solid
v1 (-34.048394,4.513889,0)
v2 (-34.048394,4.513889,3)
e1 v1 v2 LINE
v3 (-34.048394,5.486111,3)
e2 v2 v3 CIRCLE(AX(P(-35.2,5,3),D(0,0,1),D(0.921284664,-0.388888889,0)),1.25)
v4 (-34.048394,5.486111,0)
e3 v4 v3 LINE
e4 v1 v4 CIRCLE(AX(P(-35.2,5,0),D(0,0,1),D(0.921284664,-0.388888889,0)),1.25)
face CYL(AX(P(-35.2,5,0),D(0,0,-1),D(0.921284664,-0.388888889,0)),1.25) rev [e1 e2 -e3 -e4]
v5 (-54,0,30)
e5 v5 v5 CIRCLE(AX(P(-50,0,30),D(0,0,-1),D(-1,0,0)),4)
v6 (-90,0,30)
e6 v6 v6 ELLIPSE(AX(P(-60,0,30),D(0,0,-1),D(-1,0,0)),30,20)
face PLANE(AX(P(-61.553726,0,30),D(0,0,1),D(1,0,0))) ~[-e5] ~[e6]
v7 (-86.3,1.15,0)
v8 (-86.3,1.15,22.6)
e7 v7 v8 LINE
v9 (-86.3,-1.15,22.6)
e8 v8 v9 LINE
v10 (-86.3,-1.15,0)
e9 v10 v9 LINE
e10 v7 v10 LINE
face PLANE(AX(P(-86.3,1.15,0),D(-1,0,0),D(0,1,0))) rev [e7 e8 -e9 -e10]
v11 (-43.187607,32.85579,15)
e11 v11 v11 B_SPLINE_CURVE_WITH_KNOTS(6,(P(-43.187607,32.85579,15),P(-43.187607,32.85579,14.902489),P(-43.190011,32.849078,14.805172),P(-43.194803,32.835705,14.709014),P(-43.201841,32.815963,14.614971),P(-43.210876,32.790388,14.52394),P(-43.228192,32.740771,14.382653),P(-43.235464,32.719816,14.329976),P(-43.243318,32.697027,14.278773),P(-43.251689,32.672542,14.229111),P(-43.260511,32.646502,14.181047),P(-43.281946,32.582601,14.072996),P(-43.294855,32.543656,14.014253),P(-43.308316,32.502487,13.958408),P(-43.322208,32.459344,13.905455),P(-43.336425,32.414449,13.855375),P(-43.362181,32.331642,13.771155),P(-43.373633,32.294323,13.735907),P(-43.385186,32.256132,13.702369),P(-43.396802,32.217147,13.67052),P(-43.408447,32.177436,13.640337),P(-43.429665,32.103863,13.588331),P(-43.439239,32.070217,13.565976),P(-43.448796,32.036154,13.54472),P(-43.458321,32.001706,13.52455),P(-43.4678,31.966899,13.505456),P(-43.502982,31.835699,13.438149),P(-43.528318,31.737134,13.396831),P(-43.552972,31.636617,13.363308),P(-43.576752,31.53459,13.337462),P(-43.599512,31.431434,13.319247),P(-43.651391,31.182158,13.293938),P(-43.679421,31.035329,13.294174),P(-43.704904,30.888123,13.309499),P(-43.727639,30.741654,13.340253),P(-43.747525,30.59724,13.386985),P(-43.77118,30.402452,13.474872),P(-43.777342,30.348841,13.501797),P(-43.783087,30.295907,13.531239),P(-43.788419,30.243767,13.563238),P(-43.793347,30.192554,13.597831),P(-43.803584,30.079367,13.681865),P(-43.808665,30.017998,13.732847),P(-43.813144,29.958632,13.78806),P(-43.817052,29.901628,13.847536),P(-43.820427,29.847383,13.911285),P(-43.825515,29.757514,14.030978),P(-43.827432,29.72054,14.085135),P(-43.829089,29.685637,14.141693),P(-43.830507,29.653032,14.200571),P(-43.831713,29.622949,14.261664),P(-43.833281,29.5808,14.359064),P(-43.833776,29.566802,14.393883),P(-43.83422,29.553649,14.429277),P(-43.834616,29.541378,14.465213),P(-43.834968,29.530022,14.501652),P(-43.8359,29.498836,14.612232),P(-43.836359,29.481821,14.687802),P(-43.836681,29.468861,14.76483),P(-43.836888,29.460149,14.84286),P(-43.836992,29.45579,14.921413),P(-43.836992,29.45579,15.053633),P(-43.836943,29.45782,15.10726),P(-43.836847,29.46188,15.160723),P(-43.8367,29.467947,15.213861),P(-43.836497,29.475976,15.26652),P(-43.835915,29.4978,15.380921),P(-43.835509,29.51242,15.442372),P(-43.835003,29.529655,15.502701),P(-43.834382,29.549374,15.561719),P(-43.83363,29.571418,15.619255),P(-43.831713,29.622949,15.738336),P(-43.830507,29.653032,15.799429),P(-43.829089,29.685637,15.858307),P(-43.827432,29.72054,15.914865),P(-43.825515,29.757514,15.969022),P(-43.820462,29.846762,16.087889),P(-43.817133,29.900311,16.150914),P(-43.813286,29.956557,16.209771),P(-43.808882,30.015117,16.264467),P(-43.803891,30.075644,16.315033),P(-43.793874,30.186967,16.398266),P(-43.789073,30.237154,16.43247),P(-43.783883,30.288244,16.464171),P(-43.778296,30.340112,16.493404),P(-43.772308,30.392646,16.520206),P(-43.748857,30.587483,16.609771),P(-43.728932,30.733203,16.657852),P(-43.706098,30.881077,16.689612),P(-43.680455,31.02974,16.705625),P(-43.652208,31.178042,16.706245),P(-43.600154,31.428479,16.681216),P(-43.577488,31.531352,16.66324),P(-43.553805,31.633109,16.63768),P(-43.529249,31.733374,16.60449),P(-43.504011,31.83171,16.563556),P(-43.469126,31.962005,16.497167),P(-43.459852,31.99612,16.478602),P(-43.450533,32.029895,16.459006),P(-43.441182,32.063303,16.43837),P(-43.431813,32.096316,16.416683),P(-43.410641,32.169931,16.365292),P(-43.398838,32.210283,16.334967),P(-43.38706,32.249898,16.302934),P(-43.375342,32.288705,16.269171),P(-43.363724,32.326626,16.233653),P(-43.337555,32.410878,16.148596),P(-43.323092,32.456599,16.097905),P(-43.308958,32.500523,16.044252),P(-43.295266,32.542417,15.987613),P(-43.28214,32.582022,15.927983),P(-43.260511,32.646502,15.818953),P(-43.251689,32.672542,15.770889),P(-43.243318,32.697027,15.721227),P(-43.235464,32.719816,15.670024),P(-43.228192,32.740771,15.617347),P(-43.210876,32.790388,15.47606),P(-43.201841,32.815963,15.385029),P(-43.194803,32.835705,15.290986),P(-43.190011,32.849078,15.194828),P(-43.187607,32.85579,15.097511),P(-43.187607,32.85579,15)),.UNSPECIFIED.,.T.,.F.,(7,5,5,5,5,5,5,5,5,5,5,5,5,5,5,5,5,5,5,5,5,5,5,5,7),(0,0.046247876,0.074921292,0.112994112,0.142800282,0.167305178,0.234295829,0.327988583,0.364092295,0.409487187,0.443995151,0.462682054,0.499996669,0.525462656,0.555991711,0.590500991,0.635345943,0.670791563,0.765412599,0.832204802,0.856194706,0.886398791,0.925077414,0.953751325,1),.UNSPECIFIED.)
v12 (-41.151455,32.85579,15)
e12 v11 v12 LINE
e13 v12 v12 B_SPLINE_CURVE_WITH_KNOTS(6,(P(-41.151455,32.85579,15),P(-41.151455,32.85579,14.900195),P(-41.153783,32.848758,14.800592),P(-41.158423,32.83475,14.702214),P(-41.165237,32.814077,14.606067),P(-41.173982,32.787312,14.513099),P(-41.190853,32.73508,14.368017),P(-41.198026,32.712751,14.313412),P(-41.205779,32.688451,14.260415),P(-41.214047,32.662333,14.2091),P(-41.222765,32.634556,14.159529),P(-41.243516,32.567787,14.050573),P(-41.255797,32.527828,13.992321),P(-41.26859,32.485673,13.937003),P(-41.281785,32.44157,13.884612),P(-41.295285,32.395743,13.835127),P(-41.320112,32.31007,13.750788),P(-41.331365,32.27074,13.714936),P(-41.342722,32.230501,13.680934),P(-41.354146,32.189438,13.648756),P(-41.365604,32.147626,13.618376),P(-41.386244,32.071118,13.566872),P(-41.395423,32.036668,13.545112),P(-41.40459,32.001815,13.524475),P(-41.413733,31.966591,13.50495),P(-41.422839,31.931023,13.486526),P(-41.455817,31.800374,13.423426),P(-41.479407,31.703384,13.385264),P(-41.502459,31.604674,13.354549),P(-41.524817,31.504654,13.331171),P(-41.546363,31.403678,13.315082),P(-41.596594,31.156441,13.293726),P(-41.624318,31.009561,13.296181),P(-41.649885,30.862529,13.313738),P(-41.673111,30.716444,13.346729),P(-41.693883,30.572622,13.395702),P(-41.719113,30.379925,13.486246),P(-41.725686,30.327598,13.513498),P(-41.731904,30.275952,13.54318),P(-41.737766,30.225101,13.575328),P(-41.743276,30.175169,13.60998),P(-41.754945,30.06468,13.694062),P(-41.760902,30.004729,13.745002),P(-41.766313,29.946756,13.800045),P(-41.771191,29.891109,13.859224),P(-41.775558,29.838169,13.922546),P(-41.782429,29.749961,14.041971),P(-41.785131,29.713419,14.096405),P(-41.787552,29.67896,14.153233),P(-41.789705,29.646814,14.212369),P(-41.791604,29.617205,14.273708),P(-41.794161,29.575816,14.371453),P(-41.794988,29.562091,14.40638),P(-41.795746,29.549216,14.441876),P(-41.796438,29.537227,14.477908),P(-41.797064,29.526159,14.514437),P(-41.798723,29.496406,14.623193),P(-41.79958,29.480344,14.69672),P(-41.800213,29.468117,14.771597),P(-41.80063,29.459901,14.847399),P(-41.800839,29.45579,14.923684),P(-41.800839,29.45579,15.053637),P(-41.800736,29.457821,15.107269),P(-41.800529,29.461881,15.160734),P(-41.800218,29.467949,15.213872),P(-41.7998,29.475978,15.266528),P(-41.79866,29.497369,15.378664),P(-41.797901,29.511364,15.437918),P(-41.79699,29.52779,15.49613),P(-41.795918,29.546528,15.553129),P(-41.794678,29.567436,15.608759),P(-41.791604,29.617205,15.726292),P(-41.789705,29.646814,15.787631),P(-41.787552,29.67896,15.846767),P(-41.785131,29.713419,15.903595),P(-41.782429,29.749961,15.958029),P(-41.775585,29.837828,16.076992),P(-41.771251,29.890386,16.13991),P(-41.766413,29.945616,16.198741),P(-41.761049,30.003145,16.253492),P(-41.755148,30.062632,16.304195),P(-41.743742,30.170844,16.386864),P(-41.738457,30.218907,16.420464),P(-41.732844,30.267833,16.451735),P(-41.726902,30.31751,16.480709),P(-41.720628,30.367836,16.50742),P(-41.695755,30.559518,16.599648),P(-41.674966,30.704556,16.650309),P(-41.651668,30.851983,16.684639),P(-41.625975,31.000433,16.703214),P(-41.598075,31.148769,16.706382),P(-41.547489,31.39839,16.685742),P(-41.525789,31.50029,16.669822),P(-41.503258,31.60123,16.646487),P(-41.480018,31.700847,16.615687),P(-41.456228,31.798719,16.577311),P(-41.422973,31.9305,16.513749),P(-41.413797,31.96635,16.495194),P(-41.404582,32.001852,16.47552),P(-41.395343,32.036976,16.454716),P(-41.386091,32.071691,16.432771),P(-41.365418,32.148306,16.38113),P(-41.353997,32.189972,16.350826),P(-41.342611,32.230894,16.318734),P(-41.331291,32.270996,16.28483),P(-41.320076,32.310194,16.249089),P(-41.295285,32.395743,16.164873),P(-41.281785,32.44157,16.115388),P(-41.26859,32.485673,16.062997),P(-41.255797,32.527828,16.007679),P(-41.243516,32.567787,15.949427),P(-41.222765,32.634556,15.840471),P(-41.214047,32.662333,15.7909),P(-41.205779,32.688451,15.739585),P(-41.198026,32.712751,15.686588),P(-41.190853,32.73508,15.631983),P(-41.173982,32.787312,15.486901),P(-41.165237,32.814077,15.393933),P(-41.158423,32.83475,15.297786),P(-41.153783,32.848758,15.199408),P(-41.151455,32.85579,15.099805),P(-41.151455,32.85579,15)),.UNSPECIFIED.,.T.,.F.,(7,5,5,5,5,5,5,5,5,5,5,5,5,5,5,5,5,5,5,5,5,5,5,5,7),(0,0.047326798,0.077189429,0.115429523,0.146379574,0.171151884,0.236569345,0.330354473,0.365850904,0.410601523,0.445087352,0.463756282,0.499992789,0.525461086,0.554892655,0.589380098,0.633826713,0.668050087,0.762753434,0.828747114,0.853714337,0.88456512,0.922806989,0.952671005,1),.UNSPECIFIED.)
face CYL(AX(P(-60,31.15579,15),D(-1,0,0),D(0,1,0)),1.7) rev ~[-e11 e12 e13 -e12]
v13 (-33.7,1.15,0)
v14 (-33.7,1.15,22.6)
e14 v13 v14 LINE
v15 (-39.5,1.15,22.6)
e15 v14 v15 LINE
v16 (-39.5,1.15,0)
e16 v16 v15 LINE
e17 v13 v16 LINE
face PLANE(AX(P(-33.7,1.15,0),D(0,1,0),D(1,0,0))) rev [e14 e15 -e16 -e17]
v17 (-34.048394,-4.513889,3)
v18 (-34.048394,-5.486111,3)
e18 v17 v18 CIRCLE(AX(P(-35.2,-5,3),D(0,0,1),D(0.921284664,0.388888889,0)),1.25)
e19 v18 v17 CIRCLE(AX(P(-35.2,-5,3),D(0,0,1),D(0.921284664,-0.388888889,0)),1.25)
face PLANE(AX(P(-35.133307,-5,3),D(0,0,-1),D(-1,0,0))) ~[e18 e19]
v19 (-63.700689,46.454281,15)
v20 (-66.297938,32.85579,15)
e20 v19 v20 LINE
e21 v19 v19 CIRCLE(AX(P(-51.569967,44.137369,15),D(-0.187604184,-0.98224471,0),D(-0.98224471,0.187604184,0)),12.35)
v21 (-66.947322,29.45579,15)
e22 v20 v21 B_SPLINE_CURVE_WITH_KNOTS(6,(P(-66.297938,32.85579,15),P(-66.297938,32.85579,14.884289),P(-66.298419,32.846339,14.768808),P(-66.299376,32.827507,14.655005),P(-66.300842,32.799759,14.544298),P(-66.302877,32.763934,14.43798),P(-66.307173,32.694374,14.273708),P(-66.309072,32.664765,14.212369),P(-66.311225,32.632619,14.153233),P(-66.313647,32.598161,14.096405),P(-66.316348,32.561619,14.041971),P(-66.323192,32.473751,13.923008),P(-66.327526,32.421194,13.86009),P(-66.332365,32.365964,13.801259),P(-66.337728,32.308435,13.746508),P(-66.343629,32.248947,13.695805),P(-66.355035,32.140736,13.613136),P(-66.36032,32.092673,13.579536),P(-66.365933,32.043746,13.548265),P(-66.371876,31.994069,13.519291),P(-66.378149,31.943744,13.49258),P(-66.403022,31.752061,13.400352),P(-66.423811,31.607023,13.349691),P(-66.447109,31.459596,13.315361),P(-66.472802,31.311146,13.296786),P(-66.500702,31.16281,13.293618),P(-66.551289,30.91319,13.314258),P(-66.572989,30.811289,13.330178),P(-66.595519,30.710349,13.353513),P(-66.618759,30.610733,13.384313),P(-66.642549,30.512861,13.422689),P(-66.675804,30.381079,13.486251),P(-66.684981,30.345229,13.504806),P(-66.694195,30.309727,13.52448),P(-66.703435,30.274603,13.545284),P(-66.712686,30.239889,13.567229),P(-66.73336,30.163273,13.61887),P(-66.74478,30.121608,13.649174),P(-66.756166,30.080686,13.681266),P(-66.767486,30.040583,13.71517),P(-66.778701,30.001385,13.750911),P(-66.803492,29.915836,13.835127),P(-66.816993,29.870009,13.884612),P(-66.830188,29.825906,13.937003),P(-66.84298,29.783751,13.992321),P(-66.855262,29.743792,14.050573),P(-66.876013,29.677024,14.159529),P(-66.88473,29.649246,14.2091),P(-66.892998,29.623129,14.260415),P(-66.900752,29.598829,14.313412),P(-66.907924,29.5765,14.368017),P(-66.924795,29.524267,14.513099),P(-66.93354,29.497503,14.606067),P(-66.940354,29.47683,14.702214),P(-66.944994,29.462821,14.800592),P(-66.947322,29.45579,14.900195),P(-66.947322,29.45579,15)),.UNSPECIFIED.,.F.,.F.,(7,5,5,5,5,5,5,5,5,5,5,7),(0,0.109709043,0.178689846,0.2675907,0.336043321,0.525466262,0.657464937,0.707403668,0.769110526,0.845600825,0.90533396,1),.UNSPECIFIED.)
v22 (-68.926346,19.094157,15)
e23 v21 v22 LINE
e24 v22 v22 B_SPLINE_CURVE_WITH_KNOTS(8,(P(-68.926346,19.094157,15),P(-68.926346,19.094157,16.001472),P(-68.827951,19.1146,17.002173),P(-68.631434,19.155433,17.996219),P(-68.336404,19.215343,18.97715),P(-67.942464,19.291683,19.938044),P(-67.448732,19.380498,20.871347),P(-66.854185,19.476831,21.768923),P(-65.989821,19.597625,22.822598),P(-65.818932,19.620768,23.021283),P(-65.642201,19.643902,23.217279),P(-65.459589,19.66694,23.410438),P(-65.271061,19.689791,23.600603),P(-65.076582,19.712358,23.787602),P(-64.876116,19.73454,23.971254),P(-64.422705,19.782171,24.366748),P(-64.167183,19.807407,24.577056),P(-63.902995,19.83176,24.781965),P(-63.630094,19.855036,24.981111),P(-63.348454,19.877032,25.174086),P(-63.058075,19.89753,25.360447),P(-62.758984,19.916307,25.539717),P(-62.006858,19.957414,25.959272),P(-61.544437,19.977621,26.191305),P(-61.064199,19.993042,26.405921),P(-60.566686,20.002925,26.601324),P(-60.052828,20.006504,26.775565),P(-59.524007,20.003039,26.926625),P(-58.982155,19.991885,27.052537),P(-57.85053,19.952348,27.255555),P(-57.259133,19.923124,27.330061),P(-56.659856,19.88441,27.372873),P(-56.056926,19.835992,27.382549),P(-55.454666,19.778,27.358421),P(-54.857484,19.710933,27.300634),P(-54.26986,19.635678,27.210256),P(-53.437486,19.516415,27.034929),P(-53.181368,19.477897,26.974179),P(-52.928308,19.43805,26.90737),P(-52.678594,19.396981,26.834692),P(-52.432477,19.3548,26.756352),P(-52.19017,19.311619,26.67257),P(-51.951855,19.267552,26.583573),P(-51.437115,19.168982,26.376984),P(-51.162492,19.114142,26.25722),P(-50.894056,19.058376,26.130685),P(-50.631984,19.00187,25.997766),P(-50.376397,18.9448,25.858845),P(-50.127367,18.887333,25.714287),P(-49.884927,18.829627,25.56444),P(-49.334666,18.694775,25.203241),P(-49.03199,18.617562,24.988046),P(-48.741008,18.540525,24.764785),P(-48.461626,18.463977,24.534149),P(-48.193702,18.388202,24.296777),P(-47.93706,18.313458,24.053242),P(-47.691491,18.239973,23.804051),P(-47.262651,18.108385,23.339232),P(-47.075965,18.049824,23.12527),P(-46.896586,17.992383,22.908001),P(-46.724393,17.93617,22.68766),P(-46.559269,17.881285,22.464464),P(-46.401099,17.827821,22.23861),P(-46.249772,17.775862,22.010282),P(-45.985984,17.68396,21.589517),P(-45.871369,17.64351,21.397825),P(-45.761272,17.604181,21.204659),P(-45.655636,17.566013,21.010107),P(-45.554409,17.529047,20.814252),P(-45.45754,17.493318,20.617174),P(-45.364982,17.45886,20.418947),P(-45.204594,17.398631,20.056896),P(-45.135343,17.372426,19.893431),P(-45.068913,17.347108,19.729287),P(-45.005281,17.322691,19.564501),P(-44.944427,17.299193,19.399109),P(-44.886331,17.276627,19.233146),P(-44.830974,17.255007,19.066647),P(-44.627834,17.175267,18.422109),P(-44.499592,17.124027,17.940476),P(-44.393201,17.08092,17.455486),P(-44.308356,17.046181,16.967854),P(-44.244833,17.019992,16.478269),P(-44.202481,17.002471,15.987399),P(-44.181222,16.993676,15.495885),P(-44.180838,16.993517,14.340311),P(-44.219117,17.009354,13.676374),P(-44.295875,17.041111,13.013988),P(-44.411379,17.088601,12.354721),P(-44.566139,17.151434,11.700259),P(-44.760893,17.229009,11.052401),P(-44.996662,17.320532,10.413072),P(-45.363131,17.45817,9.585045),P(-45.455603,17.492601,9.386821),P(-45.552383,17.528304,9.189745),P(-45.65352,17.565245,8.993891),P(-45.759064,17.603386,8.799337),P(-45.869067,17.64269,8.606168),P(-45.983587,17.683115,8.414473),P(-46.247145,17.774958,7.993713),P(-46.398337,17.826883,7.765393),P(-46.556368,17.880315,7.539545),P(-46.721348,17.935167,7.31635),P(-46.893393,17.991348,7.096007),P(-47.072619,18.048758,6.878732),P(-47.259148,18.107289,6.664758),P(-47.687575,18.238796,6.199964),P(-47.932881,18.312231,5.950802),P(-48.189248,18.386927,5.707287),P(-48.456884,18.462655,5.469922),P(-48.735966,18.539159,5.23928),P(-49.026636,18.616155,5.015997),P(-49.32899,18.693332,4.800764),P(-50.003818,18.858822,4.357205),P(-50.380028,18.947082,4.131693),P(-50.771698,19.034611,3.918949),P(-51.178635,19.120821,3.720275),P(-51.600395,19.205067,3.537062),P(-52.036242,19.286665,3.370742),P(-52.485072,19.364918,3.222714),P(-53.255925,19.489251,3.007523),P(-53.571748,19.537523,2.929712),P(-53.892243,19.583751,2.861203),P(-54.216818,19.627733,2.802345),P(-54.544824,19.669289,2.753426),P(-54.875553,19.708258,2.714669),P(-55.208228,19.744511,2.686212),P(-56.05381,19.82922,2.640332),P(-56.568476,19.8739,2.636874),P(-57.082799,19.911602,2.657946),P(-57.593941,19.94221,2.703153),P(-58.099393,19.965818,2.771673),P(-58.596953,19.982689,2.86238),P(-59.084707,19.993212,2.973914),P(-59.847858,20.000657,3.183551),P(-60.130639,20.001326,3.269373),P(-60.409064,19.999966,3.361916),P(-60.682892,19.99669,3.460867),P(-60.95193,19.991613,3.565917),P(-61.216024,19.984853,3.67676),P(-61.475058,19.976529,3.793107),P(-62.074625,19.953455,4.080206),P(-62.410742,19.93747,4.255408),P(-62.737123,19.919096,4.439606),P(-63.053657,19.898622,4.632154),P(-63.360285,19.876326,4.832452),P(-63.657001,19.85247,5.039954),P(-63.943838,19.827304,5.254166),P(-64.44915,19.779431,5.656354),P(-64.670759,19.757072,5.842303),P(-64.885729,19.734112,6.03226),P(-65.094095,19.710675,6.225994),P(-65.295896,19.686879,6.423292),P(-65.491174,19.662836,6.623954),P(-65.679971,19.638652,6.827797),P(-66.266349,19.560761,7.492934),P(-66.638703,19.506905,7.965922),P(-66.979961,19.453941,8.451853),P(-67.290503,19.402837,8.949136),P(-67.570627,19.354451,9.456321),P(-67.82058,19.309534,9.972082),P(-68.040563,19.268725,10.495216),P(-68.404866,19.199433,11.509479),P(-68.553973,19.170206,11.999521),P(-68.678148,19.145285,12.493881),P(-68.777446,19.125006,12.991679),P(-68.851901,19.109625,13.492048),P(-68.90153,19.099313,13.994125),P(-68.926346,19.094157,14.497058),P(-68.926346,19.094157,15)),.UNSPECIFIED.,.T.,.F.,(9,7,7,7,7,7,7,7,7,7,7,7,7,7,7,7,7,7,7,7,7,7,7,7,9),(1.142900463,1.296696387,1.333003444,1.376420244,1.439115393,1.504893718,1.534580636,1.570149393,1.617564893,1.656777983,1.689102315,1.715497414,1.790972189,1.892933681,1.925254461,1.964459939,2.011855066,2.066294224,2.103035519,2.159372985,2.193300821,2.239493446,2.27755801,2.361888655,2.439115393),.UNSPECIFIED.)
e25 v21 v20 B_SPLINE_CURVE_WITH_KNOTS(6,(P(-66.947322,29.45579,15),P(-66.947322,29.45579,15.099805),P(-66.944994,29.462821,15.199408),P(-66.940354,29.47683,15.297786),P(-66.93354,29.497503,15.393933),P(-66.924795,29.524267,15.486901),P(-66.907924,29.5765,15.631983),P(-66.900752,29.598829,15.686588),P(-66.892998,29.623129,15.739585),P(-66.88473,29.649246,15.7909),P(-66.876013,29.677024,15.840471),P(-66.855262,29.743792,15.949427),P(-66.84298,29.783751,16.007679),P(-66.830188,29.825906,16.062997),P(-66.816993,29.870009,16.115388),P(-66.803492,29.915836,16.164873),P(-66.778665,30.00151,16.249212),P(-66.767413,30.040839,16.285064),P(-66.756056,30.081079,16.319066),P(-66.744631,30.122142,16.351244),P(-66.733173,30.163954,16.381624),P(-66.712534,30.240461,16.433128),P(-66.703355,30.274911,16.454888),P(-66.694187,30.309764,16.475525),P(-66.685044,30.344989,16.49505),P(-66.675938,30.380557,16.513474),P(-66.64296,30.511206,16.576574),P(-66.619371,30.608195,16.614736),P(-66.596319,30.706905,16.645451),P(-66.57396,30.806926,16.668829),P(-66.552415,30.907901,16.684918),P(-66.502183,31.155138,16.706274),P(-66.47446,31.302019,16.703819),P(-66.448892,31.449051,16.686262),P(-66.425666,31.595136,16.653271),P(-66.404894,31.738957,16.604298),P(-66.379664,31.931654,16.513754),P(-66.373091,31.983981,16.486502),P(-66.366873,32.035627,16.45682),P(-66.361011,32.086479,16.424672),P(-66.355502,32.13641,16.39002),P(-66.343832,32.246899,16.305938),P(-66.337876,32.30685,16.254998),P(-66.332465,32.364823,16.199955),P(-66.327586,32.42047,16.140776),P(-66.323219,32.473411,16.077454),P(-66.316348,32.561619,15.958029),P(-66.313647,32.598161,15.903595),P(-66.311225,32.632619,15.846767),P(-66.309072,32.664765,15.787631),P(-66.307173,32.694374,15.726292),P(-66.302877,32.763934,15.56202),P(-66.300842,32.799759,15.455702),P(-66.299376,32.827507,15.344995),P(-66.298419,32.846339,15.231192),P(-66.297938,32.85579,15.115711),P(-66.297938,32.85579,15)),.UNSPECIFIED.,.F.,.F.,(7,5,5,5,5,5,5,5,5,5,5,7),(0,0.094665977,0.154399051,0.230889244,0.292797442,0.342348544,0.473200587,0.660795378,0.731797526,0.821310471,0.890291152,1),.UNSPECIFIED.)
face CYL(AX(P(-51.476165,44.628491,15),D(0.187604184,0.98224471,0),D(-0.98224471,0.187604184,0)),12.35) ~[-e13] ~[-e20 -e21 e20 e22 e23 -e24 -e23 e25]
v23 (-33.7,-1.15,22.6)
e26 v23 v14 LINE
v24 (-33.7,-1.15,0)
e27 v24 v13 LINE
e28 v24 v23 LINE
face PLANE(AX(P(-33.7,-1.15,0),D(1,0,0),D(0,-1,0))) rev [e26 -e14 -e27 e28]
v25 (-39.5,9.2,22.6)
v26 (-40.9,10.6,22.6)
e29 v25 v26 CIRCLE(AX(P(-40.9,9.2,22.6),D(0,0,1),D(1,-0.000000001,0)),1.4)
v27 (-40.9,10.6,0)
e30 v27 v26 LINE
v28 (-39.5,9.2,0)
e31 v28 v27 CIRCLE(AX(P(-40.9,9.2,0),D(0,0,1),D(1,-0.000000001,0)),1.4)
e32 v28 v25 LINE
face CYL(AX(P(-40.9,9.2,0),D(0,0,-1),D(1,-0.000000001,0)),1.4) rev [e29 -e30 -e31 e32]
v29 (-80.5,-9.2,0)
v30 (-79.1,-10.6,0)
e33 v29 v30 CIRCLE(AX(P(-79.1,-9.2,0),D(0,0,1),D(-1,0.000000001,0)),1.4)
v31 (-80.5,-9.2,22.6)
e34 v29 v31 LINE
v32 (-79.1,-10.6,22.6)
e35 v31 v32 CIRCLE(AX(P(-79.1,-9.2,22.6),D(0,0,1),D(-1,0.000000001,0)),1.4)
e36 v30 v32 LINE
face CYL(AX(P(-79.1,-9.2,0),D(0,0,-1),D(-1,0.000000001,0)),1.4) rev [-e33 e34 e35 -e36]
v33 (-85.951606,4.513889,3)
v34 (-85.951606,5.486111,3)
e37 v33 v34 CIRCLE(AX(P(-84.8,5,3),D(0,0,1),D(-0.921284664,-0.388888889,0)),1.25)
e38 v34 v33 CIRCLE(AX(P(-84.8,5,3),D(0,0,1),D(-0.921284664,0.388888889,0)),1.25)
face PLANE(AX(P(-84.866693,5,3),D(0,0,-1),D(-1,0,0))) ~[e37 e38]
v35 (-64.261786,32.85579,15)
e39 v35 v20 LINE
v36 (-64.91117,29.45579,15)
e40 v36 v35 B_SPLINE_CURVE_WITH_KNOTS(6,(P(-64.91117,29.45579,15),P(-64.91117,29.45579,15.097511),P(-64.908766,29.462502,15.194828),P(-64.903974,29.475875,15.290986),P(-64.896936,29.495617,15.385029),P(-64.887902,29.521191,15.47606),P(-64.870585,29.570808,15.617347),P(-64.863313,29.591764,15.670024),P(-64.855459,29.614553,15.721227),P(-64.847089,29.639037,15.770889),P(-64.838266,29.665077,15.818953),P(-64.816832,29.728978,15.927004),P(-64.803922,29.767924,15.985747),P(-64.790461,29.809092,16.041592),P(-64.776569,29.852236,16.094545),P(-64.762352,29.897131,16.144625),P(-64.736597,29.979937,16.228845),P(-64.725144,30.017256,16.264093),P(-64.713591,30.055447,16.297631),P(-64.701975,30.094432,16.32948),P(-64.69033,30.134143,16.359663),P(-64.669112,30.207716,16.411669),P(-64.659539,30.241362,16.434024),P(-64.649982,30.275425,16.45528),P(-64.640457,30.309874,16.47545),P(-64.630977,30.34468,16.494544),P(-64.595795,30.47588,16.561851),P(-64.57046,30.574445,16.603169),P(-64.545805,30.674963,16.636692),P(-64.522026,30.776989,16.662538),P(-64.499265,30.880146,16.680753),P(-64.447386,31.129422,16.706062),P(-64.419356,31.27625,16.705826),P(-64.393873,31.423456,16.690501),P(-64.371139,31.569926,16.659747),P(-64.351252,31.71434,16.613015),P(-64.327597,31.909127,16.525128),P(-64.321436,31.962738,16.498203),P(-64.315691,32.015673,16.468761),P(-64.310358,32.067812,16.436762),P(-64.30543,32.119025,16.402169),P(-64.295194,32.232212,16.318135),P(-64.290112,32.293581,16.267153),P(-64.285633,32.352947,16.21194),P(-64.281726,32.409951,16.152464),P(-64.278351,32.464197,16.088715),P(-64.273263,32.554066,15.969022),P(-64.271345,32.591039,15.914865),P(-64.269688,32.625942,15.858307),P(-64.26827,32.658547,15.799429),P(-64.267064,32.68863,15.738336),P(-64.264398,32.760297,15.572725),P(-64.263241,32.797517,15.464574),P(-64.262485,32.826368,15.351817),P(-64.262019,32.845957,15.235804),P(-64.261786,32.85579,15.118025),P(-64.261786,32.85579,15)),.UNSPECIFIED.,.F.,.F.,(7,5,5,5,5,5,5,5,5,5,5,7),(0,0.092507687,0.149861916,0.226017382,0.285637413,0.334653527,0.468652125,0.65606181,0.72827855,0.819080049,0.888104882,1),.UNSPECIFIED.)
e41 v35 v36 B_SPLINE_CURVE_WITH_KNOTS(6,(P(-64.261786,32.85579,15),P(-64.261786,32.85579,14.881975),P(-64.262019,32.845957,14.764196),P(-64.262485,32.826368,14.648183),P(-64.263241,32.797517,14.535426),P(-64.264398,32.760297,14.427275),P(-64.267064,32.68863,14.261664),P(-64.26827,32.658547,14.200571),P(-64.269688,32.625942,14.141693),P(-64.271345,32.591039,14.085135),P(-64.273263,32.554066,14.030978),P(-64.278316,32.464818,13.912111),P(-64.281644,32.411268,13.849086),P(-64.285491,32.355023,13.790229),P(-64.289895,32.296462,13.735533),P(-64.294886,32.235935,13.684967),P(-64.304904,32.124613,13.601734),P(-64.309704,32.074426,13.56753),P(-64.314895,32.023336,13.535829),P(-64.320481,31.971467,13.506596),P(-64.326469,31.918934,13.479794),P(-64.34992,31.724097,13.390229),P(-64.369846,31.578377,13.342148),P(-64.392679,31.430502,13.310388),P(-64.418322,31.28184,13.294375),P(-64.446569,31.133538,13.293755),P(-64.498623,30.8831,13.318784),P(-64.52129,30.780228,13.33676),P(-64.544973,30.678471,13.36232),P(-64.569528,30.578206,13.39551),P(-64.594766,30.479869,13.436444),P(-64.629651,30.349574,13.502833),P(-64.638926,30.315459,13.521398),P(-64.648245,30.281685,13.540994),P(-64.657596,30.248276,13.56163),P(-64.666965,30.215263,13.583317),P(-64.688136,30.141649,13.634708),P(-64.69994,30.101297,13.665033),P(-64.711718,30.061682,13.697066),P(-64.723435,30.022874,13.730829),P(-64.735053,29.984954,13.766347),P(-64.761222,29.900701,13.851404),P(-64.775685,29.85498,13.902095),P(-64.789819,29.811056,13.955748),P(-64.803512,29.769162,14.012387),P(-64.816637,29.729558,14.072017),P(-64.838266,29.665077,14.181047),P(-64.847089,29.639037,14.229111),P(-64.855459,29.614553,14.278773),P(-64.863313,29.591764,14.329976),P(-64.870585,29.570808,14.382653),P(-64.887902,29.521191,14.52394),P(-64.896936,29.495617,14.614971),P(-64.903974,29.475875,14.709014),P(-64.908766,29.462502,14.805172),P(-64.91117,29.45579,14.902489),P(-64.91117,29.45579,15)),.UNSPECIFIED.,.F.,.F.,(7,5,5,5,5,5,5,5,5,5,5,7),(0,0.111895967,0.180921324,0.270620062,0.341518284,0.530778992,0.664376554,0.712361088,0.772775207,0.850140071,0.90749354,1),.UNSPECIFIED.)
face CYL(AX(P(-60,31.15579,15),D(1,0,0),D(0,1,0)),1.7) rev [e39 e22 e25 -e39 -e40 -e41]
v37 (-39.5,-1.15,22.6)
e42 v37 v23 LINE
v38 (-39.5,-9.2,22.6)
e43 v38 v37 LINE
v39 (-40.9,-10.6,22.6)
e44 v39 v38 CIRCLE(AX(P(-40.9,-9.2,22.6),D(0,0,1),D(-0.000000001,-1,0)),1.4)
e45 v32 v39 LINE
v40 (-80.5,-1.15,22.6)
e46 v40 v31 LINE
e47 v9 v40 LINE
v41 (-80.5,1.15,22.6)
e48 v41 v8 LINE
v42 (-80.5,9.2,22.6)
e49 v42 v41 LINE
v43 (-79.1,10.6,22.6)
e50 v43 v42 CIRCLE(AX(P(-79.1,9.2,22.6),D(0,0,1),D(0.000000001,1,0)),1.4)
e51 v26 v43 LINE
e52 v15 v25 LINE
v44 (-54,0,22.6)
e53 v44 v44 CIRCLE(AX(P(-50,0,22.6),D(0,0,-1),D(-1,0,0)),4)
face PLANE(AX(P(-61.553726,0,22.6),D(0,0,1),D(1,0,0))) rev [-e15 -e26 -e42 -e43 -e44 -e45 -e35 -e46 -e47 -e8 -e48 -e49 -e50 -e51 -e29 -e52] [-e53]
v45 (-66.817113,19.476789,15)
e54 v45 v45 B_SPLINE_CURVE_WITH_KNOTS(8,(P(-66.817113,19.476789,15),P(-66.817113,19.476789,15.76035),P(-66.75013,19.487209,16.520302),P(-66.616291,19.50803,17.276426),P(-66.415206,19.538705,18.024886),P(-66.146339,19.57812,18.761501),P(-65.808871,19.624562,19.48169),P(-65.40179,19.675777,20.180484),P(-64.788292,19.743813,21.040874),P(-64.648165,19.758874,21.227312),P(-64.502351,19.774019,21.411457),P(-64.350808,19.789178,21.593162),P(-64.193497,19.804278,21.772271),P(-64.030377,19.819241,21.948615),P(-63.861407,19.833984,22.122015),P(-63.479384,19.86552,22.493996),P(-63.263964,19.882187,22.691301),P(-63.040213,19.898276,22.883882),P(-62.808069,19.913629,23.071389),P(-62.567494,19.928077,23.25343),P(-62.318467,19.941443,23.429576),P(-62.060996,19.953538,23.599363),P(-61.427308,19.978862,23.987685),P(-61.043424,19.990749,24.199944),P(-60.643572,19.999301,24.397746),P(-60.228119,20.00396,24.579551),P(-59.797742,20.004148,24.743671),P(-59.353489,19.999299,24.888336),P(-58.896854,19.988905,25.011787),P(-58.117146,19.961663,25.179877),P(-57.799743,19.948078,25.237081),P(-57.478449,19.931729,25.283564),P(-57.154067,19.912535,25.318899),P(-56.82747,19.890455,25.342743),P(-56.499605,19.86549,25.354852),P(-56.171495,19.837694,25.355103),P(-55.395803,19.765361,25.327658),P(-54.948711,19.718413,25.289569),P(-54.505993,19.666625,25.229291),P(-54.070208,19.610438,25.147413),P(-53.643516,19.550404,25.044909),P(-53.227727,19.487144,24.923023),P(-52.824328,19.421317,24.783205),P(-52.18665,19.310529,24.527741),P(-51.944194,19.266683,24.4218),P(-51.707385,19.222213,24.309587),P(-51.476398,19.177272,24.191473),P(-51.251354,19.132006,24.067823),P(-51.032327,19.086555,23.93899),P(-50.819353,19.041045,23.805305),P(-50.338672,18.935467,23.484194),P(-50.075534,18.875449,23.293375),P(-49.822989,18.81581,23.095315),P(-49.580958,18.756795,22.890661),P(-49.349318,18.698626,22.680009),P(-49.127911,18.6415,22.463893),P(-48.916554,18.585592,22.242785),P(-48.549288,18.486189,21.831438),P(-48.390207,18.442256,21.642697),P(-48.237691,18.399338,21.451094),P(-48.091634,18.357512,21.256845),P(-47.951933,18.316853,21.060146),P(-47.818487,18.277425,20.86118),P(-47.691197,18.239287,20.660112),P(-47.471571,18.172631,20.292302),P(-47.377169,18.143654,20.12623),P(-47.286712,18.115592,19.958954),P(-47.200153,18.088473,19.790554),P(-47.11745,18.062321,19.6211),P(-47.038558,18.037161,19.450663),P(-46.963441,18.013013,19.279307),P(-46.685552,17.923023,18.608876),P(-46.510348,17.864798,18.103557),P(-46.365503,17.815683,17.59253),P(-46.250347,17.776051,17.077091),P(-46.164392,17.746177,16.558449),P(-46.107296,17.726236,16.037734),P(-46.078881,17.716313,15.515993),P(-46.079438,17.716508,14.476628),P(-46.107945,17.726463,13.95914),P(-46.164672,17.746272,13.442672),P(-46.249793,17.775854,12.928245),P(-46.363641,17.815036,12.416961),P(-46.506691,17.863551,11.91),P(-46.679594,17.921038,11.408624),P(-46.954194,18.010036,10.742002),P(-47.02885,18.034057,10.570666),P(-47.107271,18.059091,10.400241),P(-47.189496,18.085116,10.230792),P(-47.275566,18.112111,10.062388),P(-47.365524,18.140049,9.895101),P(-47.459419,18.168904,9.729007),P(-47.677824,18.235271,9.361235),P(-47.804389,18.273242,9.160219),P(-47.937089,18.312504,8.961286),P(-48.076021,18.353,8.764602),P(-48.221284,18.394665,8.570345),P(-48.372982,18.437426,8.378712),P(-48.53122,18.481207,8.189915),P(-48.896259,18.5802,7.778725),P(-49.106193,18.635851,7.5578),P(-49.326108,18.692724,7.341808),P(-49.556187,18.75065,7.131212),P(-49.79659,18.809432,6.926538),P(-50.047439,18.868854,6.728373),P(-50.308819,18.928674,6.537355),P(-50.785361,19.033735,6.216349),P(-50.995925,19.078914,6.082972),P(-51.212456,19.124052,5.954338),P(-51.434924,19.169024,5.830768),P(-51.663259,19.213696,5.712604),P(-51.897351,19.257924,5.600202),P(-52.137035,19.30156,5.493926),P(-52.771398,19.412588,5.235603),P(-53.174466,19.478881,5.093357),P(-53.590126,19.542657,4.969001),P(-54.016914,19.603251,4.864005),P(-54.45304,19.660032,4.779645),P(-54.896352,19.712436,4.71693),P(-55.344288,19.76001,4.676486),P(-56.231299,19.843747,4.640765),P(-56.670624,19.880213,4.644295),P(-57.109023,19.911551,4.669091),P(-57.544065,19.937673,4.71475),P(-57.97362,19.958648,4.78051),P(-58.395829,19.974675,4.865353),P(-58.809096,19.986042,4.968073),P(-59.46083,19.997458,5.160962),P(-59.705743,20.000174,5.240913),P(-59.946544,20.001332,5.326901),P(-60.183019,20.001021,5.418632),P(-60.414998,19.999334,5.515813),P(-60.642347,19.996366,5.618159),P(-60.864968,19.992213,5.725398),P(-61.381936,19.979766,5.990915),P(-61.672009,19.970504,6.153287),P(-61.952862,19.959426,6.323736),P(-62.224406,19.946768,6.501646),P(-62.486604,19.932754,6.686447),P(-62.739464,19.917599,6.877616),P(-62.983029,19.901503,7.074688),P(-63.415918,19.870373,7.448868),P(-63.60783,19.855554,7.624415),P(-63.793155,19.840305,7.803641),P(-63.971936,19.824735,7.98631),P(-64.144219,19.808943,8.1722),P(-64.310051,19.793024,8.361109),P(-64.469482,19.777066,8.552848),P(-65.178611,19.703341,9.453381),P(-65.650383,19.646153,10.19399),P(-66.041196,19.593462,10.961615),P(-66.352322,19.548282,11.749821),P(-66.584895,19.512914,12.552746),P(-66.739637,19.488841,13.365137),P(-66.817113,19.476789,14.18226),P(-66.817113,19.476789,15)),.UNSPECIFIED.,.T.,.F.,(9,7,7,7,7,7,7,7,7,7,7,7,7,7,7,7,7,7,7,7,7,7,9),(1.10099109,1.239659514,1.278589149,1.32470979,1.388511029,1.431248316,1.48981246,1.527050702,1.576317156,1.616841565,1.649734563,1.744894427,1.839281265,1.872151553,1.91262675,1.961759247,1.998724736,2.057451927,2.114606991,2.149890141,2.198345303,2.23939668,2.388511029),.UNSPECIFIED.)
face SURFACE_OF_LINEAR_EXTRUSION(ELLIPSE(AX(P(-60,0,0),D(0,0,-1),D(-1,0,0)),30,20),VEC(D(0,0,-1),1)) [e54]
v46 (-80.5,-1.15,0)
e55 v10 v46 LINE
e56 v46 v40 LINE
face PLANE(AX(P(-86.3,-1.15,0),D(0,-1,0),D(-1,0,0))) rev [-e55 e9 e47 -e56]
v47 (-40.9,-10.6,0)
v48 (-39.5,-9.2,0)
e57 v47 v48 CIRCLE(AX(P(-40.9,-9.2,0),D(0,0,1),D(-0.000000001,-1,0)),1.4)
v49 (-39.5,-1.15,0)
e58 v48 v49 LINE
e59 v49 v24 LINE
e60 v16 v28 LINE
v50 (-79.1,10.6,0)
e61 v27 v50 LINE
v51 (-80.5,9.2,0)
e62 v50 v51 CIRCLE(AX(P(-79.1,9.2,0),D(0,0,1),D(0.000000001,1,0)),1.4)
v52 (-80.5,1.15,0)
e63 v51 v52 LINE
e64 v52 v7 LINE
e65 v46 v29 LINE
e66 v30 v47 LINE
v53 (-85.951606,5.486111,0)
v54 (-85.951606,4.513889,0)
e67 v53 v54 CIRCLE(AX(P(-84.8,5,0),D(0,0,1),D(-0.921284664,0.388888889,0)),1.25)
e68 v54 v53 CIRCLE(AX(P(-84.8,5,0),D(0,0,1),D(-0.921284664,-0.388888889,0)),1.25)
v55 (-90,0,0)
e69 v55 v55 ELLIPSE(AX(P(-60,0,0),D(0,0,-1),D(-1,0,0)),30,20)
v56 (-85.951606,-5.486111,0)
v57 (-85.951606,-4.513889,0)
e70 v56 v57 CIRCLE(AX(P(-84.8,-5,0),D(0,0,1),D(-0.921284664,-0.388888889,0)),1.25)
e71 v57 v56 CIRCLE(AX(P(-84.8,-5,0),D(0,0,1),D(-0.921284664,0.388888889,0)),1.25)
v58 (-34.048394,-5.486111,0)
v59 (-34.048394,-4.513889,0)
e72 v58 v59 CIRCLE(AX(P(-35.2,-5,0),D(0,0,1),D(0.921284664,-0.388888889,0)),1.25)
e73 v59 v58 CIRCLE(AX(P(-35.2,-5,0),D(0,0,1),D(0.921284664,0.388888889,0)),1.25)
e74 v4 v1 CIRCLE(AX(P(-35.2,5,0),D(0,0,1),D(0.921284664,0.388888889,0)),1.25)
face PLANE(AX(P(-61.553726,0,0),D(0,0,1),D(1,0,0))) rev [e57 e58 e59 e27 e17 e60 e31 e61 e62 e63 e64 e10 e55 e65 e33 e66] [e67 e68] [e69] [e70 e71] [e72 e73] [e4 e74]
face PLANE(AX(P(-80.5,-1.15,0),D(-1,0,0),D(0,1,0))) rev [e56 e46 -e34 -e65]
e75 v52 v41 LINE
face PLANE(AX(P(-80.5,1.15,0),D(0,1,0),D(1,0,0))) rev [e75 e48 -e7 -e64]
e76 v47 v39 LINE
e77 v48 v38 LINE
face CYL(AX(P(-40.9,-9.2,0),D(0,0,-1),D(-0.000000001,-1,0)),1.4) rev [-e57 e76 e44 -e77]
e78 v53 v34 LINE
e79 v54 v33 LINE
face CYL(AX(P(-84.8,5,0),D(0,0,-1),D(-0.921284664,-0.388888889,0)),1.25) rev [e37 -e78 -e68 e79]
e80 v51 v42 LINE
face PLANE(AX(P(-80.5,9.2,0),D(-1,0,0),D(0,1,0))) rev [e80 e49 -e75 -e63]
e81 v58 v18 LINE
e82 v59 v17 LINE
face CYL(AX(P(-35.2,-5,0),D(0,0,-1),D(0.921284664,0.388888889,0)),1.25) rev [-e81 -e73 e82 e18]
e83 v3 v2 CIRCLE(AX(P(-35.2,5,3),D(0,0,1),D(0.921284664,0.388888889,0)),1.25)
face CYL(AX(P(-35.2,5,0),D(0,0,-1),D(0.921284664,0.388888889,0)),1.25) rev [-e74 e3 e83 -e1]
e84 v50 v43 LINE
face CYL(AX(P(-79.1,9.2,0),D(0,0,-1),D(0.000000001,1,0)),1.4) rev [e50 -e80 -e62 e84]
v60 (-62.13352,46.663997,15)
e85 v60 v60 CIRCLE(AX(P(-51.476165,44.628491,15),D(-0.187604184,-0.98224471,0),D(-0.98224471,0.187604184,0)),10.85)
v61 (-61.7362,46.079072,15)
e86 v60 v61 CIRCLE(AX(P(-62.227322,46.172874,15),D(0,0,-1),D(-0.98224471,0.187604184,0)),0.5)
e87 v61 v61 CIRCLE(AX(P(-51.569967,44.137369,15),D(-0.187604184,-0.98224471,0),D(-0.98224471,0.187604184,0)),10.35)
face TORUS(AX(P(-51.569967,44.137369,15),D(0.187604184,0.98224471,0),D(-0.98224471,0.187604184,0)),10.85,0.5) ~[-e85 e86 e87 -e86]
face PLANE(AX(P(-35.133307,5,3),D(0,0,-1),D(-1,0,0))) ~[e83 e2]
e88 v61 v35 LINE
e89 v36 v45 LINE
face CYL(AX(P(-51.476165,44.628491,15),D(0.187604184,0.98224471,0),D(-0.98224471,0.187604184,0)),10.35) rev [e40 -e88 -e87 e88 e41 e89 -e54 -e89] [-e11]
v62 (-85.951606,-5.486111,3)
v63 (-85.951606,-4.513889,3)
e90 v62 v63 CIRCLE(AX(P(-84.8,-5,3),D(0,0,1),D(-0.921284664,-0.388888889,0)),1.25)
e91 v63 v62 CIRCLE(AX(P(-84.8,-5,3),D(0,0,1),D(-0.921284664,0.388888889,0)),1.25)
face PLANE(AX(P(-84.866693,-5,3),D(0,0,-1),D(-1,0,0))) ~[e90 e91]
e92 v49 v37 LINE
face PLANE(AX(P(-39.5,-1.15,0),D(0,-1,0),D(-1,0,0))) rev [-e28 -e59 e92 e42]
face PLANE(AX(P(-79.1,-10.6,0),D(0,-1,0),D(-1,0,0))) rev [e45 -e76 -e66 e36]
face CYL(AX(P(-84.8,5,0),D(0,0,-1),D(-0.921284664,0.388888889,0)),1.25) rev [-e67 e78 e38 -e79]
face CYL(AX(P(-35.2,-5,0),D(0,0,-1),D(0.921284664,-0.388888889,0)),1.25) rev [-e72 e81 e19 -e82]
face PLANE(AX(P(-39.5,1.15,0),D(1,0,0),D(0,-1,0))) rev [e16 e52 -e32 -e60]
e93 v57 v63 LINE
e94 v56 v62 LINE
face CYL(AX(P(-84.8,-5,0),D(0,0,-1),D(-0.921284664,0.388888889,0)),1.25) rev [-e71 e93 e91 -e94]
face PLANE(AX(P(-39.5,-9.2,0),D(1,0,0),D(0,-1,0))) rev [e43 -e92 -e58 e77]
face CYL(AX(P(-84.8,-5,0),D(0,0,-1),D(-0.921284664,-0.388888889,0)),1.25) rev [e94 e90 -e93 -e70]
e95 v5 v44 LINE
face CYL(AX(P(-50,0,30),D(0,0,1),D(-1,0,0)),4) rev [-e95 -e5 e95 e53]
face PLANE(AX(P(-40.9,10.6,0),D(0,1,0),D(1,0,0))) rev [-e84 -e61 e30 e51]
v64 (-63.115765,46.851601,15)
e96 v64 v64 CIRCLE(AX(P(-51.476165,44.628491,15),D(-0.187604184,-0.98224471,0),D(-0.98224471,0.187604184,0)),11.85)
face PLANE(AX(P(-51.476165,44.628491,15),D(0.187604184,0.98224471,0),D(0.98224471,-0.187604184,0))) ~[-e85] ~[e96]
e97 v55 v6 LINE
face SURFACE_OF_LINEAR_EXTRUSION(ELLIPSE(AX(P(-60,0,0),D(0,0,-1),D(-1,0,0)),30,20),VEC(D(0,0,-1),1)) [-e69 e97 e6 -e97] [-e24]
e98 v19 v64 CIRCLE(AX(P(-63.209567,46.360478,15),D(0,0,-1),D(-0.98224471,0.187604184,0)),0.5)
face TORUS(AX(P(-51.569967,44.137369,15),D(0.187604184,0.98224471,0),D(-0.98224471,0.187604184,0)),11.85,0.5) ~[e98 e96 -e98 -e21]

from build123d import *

# Parameters (mm, degrees)
SKETCH2_RX              = 30
SKETCH2_RY              = 20
BOSS_EXTRUDE1_DEPTH     = 30
CUT_EXTRUDE1_DEPTH      = 3
BOSS_EXTRUDE2_REACH     = 72.708
SKETCH7_R               = 12.35
SKETCH7_R_2             = 10.35
SKETCH8_RX              = 30
SKETCH8_RY              = 20
BOSS_EXTRUDE4_DEPTH     = 7.4
SKETCH12_R              = 1.7
CUT_EXTRUDE3_DEPTH      = 31.0000001
CUT_EXTRUDE3_DEPTH_BACK = 31.0000001
SKETCH13_R              = 4
CUT_EXTRUDE4_DEPTH      = 1.0000001
CUT_EXTRUDE4_DEPTH_BACK = 31.0000001
FILLET4_R               = 0.5


with BuildPart() as part:
    # Sketch2 → Boss-Extrude1 (new body)
    with BuildSketch(Plane.XY):
        with Locations(Location((10, 0), (0, 0, 0))):
            Ellipse(SKETCH2_RX, SKETCH2_RY)
        with BuildLine():
            Line((-3.398305936, 10.6), (7.0394788, 10.6))
            Line((7.0394788, 10.6), (29.1, 10.6))
            ThreePointArc((29.1, 10.6), (30.089949494, 10.189949494), (30.5, 9.2))
            Line((30.5, 9.2), (30.5, 1.15))
            Line((30.5, 1.15), (31.7, 1.15))
            Line((31.7, 1.15), (36.3, 1.15))
            Line((36.3, 1.15), (36.3, -1.15))
            Line((36.3, -1.15), (30.5, -1.15))
            Line((30.5, -1.15), (30.5, -9.2))
            ThreePointArc((30.5, -9.2), (30.089949494, -10.189949494), (29.1, -10.6))
            Line((29.1, -10.6), (7.0394788, -10.6))
            Line((7.0394788, -10.6), (-3.398305936, -10.6))
            Line((-3.398305936, -10.6), (-9.1, -10.6))
            ThreePointArc((-9.1, -10.6), (-10.089949494, -10.189949494), (-10.5, -9.2))
            Line((-10.5, -9.2), (-10.5, -1.15))
            Line((-10.5, -1.15), (-11.7, -1.15))
            Line((-11.7, -1.15), (-16.3, -1.15))
            Line((-16.3, -1.15), (-16.3, 1.15))
            Line((-16.3, 1.15), (-11.7, 1.15))
            Line((-11.7, 1.15), (-10.5, 1.15))
            Line((-10.5, 1.15), (-10.5, 9.2))
            ThreePointArc((-10.5, 9.2), (-10.089949494, 10.189949494), (-9.1, 10.6))
            Line((-9.1, 10.6), (-3.398305936, 10.6))
        make_face(mode=Mode.SUBTRACT)
    extrude(amount=BOSS_EXTRUDE1_DEPTH)

    # Sketch3 → Cut-Extrude1 (cut)
    with BuildSketch(Plane(origin=(0, 0, 0), x_dir=(-1, 0, 0), z_dir=(0, 0, -1))):
        with BuildLine():
            ThreePointArc((-35.95160583, -5.486111111), (-33.55, -5), (-35.95160583, -4.513888889))
            ThreePointArc((-35.95160583, -4.513888889), (-36.05, -5), (-35.95160583, -5.486111111))
        make_face()
        with BuildLine():
            ThreePointArc((-35.95160583, 4.513888889), (-33.55, 5), (-35.95160583, 5.486111111))
            ThreePointArc((-35.95160583, 5.486111111), (-36.05, 5), (-35.95160583, 4.513888889))
        make_face()
        with BuildLine():
            ThreePointArc((15.95160583, 5.486111111), (13.55, 5), (15.95160583, 4.513888889))
            ThreePointArc((15.95160583, 4.513888889), (16.05, 5), (15.95160583, 5.486111111))
        make_face()
        with BuildLine():
            ThreePointArc((15.95160583, -4.513888889), (13.55, -5), (15.95160583, -5.486111111))
            ThreePointArc((15.95160583, -5.486111111), (16.05, -5), (15.95160583, -4.513888889))
        make_face()
    extrude(amount=-CUT_EXTRUDE1_DEPTH, mode=Mode.SUBTRACT)

    # Sketch7 → Boss-Extrude2 (add, up to next)
    with BuildSketch(Plane(origin=(1.476165174, 44.628491235, 15), x_dir=(0.98224471, 0.187604184, 0), z_dir=(-0.187604184, 0.98224471, 0)), mode=Mode.PRIVATE) as boss_extrude2_sk1:
        Circle(SKETCH7_R)
        Circle(SKETCH7_R_2, mode=Mode.SUBTRACT)
    boss_extrude2_tool1 = extrude(boss_extrude2_sk1.sketch, amount=-BOSS_EXTRUDE2_REACH, mode=Mode.PRIVATE) - part.part
    add(boss_extrude2_tool1.solids().sort_by_distance((-10.311448, 42.377112, 15))[0])

    # Sketch8 → Boss-Extrude4 (add)
    with BuildSketch(Plane.XY.offset(30)):
        with Locations(Location((10, 0), (0, 0, 0))):
            Ellipse(SKETCH8_RX, SKETCH8_RY)
    extrude(amount=-BOSS_EXTRUDE4_DEPTH)

    # Sketch12 → Cut-Extrude3 (cut, two sides)
    with BuildSketch(Plane(origin=(10, -10, 0), x_dir=(0, 1, 0), z_dir=(-1, 0, 0))) as cut_extrude3_sk:
        with Locations((41.155789783, -15)):
            Circle(SKETCH12_R)
    extrude(amount=CUT_EXTRUDE3_DEPTH, mode=Mode.SUBTRACT)
    extrude(cut_extrude3_sk.sketch, amount=-CUT_EXTRUDE3_DEPTH_BACK, mode=Mode.SUBTRACT)

    # Sketch13 → Cut-Extrude4 (cut, two sides)
    with BuildSketch(Plane.XY.offset(30)) as cut_extrude4_sk:
        Circle(SKETCH13_R)
    extrude(amount=CUT_EXTRUDE4_DEPTH, mode=Mode.SUBTRACT)
    extrude(cut_extrude4_sk.sketch, amount=-CUT_EXTRUDE4_DEPTH_BACK, mode=Mode.SUBTRACT)


with BuildPart() as body_2:
    # Mirror1: mirrored copy
    add(part.part.mirror(Plane(origin=(-25, 0, 0), x_dir=(0, 0, 1), z_dir=(1, 0, 0))))

    # Fillet4
    fillet4_edges = [body_2.edges().sort_by_distance(p)[0] for p in [
        (-39.345443006, 42.311579567, 15),
        (-41.309932426, 42.686787934, 15),
    ]]
    fillet(fillet4_edges, radius=FILLET4_R)


solid = body_2.part
